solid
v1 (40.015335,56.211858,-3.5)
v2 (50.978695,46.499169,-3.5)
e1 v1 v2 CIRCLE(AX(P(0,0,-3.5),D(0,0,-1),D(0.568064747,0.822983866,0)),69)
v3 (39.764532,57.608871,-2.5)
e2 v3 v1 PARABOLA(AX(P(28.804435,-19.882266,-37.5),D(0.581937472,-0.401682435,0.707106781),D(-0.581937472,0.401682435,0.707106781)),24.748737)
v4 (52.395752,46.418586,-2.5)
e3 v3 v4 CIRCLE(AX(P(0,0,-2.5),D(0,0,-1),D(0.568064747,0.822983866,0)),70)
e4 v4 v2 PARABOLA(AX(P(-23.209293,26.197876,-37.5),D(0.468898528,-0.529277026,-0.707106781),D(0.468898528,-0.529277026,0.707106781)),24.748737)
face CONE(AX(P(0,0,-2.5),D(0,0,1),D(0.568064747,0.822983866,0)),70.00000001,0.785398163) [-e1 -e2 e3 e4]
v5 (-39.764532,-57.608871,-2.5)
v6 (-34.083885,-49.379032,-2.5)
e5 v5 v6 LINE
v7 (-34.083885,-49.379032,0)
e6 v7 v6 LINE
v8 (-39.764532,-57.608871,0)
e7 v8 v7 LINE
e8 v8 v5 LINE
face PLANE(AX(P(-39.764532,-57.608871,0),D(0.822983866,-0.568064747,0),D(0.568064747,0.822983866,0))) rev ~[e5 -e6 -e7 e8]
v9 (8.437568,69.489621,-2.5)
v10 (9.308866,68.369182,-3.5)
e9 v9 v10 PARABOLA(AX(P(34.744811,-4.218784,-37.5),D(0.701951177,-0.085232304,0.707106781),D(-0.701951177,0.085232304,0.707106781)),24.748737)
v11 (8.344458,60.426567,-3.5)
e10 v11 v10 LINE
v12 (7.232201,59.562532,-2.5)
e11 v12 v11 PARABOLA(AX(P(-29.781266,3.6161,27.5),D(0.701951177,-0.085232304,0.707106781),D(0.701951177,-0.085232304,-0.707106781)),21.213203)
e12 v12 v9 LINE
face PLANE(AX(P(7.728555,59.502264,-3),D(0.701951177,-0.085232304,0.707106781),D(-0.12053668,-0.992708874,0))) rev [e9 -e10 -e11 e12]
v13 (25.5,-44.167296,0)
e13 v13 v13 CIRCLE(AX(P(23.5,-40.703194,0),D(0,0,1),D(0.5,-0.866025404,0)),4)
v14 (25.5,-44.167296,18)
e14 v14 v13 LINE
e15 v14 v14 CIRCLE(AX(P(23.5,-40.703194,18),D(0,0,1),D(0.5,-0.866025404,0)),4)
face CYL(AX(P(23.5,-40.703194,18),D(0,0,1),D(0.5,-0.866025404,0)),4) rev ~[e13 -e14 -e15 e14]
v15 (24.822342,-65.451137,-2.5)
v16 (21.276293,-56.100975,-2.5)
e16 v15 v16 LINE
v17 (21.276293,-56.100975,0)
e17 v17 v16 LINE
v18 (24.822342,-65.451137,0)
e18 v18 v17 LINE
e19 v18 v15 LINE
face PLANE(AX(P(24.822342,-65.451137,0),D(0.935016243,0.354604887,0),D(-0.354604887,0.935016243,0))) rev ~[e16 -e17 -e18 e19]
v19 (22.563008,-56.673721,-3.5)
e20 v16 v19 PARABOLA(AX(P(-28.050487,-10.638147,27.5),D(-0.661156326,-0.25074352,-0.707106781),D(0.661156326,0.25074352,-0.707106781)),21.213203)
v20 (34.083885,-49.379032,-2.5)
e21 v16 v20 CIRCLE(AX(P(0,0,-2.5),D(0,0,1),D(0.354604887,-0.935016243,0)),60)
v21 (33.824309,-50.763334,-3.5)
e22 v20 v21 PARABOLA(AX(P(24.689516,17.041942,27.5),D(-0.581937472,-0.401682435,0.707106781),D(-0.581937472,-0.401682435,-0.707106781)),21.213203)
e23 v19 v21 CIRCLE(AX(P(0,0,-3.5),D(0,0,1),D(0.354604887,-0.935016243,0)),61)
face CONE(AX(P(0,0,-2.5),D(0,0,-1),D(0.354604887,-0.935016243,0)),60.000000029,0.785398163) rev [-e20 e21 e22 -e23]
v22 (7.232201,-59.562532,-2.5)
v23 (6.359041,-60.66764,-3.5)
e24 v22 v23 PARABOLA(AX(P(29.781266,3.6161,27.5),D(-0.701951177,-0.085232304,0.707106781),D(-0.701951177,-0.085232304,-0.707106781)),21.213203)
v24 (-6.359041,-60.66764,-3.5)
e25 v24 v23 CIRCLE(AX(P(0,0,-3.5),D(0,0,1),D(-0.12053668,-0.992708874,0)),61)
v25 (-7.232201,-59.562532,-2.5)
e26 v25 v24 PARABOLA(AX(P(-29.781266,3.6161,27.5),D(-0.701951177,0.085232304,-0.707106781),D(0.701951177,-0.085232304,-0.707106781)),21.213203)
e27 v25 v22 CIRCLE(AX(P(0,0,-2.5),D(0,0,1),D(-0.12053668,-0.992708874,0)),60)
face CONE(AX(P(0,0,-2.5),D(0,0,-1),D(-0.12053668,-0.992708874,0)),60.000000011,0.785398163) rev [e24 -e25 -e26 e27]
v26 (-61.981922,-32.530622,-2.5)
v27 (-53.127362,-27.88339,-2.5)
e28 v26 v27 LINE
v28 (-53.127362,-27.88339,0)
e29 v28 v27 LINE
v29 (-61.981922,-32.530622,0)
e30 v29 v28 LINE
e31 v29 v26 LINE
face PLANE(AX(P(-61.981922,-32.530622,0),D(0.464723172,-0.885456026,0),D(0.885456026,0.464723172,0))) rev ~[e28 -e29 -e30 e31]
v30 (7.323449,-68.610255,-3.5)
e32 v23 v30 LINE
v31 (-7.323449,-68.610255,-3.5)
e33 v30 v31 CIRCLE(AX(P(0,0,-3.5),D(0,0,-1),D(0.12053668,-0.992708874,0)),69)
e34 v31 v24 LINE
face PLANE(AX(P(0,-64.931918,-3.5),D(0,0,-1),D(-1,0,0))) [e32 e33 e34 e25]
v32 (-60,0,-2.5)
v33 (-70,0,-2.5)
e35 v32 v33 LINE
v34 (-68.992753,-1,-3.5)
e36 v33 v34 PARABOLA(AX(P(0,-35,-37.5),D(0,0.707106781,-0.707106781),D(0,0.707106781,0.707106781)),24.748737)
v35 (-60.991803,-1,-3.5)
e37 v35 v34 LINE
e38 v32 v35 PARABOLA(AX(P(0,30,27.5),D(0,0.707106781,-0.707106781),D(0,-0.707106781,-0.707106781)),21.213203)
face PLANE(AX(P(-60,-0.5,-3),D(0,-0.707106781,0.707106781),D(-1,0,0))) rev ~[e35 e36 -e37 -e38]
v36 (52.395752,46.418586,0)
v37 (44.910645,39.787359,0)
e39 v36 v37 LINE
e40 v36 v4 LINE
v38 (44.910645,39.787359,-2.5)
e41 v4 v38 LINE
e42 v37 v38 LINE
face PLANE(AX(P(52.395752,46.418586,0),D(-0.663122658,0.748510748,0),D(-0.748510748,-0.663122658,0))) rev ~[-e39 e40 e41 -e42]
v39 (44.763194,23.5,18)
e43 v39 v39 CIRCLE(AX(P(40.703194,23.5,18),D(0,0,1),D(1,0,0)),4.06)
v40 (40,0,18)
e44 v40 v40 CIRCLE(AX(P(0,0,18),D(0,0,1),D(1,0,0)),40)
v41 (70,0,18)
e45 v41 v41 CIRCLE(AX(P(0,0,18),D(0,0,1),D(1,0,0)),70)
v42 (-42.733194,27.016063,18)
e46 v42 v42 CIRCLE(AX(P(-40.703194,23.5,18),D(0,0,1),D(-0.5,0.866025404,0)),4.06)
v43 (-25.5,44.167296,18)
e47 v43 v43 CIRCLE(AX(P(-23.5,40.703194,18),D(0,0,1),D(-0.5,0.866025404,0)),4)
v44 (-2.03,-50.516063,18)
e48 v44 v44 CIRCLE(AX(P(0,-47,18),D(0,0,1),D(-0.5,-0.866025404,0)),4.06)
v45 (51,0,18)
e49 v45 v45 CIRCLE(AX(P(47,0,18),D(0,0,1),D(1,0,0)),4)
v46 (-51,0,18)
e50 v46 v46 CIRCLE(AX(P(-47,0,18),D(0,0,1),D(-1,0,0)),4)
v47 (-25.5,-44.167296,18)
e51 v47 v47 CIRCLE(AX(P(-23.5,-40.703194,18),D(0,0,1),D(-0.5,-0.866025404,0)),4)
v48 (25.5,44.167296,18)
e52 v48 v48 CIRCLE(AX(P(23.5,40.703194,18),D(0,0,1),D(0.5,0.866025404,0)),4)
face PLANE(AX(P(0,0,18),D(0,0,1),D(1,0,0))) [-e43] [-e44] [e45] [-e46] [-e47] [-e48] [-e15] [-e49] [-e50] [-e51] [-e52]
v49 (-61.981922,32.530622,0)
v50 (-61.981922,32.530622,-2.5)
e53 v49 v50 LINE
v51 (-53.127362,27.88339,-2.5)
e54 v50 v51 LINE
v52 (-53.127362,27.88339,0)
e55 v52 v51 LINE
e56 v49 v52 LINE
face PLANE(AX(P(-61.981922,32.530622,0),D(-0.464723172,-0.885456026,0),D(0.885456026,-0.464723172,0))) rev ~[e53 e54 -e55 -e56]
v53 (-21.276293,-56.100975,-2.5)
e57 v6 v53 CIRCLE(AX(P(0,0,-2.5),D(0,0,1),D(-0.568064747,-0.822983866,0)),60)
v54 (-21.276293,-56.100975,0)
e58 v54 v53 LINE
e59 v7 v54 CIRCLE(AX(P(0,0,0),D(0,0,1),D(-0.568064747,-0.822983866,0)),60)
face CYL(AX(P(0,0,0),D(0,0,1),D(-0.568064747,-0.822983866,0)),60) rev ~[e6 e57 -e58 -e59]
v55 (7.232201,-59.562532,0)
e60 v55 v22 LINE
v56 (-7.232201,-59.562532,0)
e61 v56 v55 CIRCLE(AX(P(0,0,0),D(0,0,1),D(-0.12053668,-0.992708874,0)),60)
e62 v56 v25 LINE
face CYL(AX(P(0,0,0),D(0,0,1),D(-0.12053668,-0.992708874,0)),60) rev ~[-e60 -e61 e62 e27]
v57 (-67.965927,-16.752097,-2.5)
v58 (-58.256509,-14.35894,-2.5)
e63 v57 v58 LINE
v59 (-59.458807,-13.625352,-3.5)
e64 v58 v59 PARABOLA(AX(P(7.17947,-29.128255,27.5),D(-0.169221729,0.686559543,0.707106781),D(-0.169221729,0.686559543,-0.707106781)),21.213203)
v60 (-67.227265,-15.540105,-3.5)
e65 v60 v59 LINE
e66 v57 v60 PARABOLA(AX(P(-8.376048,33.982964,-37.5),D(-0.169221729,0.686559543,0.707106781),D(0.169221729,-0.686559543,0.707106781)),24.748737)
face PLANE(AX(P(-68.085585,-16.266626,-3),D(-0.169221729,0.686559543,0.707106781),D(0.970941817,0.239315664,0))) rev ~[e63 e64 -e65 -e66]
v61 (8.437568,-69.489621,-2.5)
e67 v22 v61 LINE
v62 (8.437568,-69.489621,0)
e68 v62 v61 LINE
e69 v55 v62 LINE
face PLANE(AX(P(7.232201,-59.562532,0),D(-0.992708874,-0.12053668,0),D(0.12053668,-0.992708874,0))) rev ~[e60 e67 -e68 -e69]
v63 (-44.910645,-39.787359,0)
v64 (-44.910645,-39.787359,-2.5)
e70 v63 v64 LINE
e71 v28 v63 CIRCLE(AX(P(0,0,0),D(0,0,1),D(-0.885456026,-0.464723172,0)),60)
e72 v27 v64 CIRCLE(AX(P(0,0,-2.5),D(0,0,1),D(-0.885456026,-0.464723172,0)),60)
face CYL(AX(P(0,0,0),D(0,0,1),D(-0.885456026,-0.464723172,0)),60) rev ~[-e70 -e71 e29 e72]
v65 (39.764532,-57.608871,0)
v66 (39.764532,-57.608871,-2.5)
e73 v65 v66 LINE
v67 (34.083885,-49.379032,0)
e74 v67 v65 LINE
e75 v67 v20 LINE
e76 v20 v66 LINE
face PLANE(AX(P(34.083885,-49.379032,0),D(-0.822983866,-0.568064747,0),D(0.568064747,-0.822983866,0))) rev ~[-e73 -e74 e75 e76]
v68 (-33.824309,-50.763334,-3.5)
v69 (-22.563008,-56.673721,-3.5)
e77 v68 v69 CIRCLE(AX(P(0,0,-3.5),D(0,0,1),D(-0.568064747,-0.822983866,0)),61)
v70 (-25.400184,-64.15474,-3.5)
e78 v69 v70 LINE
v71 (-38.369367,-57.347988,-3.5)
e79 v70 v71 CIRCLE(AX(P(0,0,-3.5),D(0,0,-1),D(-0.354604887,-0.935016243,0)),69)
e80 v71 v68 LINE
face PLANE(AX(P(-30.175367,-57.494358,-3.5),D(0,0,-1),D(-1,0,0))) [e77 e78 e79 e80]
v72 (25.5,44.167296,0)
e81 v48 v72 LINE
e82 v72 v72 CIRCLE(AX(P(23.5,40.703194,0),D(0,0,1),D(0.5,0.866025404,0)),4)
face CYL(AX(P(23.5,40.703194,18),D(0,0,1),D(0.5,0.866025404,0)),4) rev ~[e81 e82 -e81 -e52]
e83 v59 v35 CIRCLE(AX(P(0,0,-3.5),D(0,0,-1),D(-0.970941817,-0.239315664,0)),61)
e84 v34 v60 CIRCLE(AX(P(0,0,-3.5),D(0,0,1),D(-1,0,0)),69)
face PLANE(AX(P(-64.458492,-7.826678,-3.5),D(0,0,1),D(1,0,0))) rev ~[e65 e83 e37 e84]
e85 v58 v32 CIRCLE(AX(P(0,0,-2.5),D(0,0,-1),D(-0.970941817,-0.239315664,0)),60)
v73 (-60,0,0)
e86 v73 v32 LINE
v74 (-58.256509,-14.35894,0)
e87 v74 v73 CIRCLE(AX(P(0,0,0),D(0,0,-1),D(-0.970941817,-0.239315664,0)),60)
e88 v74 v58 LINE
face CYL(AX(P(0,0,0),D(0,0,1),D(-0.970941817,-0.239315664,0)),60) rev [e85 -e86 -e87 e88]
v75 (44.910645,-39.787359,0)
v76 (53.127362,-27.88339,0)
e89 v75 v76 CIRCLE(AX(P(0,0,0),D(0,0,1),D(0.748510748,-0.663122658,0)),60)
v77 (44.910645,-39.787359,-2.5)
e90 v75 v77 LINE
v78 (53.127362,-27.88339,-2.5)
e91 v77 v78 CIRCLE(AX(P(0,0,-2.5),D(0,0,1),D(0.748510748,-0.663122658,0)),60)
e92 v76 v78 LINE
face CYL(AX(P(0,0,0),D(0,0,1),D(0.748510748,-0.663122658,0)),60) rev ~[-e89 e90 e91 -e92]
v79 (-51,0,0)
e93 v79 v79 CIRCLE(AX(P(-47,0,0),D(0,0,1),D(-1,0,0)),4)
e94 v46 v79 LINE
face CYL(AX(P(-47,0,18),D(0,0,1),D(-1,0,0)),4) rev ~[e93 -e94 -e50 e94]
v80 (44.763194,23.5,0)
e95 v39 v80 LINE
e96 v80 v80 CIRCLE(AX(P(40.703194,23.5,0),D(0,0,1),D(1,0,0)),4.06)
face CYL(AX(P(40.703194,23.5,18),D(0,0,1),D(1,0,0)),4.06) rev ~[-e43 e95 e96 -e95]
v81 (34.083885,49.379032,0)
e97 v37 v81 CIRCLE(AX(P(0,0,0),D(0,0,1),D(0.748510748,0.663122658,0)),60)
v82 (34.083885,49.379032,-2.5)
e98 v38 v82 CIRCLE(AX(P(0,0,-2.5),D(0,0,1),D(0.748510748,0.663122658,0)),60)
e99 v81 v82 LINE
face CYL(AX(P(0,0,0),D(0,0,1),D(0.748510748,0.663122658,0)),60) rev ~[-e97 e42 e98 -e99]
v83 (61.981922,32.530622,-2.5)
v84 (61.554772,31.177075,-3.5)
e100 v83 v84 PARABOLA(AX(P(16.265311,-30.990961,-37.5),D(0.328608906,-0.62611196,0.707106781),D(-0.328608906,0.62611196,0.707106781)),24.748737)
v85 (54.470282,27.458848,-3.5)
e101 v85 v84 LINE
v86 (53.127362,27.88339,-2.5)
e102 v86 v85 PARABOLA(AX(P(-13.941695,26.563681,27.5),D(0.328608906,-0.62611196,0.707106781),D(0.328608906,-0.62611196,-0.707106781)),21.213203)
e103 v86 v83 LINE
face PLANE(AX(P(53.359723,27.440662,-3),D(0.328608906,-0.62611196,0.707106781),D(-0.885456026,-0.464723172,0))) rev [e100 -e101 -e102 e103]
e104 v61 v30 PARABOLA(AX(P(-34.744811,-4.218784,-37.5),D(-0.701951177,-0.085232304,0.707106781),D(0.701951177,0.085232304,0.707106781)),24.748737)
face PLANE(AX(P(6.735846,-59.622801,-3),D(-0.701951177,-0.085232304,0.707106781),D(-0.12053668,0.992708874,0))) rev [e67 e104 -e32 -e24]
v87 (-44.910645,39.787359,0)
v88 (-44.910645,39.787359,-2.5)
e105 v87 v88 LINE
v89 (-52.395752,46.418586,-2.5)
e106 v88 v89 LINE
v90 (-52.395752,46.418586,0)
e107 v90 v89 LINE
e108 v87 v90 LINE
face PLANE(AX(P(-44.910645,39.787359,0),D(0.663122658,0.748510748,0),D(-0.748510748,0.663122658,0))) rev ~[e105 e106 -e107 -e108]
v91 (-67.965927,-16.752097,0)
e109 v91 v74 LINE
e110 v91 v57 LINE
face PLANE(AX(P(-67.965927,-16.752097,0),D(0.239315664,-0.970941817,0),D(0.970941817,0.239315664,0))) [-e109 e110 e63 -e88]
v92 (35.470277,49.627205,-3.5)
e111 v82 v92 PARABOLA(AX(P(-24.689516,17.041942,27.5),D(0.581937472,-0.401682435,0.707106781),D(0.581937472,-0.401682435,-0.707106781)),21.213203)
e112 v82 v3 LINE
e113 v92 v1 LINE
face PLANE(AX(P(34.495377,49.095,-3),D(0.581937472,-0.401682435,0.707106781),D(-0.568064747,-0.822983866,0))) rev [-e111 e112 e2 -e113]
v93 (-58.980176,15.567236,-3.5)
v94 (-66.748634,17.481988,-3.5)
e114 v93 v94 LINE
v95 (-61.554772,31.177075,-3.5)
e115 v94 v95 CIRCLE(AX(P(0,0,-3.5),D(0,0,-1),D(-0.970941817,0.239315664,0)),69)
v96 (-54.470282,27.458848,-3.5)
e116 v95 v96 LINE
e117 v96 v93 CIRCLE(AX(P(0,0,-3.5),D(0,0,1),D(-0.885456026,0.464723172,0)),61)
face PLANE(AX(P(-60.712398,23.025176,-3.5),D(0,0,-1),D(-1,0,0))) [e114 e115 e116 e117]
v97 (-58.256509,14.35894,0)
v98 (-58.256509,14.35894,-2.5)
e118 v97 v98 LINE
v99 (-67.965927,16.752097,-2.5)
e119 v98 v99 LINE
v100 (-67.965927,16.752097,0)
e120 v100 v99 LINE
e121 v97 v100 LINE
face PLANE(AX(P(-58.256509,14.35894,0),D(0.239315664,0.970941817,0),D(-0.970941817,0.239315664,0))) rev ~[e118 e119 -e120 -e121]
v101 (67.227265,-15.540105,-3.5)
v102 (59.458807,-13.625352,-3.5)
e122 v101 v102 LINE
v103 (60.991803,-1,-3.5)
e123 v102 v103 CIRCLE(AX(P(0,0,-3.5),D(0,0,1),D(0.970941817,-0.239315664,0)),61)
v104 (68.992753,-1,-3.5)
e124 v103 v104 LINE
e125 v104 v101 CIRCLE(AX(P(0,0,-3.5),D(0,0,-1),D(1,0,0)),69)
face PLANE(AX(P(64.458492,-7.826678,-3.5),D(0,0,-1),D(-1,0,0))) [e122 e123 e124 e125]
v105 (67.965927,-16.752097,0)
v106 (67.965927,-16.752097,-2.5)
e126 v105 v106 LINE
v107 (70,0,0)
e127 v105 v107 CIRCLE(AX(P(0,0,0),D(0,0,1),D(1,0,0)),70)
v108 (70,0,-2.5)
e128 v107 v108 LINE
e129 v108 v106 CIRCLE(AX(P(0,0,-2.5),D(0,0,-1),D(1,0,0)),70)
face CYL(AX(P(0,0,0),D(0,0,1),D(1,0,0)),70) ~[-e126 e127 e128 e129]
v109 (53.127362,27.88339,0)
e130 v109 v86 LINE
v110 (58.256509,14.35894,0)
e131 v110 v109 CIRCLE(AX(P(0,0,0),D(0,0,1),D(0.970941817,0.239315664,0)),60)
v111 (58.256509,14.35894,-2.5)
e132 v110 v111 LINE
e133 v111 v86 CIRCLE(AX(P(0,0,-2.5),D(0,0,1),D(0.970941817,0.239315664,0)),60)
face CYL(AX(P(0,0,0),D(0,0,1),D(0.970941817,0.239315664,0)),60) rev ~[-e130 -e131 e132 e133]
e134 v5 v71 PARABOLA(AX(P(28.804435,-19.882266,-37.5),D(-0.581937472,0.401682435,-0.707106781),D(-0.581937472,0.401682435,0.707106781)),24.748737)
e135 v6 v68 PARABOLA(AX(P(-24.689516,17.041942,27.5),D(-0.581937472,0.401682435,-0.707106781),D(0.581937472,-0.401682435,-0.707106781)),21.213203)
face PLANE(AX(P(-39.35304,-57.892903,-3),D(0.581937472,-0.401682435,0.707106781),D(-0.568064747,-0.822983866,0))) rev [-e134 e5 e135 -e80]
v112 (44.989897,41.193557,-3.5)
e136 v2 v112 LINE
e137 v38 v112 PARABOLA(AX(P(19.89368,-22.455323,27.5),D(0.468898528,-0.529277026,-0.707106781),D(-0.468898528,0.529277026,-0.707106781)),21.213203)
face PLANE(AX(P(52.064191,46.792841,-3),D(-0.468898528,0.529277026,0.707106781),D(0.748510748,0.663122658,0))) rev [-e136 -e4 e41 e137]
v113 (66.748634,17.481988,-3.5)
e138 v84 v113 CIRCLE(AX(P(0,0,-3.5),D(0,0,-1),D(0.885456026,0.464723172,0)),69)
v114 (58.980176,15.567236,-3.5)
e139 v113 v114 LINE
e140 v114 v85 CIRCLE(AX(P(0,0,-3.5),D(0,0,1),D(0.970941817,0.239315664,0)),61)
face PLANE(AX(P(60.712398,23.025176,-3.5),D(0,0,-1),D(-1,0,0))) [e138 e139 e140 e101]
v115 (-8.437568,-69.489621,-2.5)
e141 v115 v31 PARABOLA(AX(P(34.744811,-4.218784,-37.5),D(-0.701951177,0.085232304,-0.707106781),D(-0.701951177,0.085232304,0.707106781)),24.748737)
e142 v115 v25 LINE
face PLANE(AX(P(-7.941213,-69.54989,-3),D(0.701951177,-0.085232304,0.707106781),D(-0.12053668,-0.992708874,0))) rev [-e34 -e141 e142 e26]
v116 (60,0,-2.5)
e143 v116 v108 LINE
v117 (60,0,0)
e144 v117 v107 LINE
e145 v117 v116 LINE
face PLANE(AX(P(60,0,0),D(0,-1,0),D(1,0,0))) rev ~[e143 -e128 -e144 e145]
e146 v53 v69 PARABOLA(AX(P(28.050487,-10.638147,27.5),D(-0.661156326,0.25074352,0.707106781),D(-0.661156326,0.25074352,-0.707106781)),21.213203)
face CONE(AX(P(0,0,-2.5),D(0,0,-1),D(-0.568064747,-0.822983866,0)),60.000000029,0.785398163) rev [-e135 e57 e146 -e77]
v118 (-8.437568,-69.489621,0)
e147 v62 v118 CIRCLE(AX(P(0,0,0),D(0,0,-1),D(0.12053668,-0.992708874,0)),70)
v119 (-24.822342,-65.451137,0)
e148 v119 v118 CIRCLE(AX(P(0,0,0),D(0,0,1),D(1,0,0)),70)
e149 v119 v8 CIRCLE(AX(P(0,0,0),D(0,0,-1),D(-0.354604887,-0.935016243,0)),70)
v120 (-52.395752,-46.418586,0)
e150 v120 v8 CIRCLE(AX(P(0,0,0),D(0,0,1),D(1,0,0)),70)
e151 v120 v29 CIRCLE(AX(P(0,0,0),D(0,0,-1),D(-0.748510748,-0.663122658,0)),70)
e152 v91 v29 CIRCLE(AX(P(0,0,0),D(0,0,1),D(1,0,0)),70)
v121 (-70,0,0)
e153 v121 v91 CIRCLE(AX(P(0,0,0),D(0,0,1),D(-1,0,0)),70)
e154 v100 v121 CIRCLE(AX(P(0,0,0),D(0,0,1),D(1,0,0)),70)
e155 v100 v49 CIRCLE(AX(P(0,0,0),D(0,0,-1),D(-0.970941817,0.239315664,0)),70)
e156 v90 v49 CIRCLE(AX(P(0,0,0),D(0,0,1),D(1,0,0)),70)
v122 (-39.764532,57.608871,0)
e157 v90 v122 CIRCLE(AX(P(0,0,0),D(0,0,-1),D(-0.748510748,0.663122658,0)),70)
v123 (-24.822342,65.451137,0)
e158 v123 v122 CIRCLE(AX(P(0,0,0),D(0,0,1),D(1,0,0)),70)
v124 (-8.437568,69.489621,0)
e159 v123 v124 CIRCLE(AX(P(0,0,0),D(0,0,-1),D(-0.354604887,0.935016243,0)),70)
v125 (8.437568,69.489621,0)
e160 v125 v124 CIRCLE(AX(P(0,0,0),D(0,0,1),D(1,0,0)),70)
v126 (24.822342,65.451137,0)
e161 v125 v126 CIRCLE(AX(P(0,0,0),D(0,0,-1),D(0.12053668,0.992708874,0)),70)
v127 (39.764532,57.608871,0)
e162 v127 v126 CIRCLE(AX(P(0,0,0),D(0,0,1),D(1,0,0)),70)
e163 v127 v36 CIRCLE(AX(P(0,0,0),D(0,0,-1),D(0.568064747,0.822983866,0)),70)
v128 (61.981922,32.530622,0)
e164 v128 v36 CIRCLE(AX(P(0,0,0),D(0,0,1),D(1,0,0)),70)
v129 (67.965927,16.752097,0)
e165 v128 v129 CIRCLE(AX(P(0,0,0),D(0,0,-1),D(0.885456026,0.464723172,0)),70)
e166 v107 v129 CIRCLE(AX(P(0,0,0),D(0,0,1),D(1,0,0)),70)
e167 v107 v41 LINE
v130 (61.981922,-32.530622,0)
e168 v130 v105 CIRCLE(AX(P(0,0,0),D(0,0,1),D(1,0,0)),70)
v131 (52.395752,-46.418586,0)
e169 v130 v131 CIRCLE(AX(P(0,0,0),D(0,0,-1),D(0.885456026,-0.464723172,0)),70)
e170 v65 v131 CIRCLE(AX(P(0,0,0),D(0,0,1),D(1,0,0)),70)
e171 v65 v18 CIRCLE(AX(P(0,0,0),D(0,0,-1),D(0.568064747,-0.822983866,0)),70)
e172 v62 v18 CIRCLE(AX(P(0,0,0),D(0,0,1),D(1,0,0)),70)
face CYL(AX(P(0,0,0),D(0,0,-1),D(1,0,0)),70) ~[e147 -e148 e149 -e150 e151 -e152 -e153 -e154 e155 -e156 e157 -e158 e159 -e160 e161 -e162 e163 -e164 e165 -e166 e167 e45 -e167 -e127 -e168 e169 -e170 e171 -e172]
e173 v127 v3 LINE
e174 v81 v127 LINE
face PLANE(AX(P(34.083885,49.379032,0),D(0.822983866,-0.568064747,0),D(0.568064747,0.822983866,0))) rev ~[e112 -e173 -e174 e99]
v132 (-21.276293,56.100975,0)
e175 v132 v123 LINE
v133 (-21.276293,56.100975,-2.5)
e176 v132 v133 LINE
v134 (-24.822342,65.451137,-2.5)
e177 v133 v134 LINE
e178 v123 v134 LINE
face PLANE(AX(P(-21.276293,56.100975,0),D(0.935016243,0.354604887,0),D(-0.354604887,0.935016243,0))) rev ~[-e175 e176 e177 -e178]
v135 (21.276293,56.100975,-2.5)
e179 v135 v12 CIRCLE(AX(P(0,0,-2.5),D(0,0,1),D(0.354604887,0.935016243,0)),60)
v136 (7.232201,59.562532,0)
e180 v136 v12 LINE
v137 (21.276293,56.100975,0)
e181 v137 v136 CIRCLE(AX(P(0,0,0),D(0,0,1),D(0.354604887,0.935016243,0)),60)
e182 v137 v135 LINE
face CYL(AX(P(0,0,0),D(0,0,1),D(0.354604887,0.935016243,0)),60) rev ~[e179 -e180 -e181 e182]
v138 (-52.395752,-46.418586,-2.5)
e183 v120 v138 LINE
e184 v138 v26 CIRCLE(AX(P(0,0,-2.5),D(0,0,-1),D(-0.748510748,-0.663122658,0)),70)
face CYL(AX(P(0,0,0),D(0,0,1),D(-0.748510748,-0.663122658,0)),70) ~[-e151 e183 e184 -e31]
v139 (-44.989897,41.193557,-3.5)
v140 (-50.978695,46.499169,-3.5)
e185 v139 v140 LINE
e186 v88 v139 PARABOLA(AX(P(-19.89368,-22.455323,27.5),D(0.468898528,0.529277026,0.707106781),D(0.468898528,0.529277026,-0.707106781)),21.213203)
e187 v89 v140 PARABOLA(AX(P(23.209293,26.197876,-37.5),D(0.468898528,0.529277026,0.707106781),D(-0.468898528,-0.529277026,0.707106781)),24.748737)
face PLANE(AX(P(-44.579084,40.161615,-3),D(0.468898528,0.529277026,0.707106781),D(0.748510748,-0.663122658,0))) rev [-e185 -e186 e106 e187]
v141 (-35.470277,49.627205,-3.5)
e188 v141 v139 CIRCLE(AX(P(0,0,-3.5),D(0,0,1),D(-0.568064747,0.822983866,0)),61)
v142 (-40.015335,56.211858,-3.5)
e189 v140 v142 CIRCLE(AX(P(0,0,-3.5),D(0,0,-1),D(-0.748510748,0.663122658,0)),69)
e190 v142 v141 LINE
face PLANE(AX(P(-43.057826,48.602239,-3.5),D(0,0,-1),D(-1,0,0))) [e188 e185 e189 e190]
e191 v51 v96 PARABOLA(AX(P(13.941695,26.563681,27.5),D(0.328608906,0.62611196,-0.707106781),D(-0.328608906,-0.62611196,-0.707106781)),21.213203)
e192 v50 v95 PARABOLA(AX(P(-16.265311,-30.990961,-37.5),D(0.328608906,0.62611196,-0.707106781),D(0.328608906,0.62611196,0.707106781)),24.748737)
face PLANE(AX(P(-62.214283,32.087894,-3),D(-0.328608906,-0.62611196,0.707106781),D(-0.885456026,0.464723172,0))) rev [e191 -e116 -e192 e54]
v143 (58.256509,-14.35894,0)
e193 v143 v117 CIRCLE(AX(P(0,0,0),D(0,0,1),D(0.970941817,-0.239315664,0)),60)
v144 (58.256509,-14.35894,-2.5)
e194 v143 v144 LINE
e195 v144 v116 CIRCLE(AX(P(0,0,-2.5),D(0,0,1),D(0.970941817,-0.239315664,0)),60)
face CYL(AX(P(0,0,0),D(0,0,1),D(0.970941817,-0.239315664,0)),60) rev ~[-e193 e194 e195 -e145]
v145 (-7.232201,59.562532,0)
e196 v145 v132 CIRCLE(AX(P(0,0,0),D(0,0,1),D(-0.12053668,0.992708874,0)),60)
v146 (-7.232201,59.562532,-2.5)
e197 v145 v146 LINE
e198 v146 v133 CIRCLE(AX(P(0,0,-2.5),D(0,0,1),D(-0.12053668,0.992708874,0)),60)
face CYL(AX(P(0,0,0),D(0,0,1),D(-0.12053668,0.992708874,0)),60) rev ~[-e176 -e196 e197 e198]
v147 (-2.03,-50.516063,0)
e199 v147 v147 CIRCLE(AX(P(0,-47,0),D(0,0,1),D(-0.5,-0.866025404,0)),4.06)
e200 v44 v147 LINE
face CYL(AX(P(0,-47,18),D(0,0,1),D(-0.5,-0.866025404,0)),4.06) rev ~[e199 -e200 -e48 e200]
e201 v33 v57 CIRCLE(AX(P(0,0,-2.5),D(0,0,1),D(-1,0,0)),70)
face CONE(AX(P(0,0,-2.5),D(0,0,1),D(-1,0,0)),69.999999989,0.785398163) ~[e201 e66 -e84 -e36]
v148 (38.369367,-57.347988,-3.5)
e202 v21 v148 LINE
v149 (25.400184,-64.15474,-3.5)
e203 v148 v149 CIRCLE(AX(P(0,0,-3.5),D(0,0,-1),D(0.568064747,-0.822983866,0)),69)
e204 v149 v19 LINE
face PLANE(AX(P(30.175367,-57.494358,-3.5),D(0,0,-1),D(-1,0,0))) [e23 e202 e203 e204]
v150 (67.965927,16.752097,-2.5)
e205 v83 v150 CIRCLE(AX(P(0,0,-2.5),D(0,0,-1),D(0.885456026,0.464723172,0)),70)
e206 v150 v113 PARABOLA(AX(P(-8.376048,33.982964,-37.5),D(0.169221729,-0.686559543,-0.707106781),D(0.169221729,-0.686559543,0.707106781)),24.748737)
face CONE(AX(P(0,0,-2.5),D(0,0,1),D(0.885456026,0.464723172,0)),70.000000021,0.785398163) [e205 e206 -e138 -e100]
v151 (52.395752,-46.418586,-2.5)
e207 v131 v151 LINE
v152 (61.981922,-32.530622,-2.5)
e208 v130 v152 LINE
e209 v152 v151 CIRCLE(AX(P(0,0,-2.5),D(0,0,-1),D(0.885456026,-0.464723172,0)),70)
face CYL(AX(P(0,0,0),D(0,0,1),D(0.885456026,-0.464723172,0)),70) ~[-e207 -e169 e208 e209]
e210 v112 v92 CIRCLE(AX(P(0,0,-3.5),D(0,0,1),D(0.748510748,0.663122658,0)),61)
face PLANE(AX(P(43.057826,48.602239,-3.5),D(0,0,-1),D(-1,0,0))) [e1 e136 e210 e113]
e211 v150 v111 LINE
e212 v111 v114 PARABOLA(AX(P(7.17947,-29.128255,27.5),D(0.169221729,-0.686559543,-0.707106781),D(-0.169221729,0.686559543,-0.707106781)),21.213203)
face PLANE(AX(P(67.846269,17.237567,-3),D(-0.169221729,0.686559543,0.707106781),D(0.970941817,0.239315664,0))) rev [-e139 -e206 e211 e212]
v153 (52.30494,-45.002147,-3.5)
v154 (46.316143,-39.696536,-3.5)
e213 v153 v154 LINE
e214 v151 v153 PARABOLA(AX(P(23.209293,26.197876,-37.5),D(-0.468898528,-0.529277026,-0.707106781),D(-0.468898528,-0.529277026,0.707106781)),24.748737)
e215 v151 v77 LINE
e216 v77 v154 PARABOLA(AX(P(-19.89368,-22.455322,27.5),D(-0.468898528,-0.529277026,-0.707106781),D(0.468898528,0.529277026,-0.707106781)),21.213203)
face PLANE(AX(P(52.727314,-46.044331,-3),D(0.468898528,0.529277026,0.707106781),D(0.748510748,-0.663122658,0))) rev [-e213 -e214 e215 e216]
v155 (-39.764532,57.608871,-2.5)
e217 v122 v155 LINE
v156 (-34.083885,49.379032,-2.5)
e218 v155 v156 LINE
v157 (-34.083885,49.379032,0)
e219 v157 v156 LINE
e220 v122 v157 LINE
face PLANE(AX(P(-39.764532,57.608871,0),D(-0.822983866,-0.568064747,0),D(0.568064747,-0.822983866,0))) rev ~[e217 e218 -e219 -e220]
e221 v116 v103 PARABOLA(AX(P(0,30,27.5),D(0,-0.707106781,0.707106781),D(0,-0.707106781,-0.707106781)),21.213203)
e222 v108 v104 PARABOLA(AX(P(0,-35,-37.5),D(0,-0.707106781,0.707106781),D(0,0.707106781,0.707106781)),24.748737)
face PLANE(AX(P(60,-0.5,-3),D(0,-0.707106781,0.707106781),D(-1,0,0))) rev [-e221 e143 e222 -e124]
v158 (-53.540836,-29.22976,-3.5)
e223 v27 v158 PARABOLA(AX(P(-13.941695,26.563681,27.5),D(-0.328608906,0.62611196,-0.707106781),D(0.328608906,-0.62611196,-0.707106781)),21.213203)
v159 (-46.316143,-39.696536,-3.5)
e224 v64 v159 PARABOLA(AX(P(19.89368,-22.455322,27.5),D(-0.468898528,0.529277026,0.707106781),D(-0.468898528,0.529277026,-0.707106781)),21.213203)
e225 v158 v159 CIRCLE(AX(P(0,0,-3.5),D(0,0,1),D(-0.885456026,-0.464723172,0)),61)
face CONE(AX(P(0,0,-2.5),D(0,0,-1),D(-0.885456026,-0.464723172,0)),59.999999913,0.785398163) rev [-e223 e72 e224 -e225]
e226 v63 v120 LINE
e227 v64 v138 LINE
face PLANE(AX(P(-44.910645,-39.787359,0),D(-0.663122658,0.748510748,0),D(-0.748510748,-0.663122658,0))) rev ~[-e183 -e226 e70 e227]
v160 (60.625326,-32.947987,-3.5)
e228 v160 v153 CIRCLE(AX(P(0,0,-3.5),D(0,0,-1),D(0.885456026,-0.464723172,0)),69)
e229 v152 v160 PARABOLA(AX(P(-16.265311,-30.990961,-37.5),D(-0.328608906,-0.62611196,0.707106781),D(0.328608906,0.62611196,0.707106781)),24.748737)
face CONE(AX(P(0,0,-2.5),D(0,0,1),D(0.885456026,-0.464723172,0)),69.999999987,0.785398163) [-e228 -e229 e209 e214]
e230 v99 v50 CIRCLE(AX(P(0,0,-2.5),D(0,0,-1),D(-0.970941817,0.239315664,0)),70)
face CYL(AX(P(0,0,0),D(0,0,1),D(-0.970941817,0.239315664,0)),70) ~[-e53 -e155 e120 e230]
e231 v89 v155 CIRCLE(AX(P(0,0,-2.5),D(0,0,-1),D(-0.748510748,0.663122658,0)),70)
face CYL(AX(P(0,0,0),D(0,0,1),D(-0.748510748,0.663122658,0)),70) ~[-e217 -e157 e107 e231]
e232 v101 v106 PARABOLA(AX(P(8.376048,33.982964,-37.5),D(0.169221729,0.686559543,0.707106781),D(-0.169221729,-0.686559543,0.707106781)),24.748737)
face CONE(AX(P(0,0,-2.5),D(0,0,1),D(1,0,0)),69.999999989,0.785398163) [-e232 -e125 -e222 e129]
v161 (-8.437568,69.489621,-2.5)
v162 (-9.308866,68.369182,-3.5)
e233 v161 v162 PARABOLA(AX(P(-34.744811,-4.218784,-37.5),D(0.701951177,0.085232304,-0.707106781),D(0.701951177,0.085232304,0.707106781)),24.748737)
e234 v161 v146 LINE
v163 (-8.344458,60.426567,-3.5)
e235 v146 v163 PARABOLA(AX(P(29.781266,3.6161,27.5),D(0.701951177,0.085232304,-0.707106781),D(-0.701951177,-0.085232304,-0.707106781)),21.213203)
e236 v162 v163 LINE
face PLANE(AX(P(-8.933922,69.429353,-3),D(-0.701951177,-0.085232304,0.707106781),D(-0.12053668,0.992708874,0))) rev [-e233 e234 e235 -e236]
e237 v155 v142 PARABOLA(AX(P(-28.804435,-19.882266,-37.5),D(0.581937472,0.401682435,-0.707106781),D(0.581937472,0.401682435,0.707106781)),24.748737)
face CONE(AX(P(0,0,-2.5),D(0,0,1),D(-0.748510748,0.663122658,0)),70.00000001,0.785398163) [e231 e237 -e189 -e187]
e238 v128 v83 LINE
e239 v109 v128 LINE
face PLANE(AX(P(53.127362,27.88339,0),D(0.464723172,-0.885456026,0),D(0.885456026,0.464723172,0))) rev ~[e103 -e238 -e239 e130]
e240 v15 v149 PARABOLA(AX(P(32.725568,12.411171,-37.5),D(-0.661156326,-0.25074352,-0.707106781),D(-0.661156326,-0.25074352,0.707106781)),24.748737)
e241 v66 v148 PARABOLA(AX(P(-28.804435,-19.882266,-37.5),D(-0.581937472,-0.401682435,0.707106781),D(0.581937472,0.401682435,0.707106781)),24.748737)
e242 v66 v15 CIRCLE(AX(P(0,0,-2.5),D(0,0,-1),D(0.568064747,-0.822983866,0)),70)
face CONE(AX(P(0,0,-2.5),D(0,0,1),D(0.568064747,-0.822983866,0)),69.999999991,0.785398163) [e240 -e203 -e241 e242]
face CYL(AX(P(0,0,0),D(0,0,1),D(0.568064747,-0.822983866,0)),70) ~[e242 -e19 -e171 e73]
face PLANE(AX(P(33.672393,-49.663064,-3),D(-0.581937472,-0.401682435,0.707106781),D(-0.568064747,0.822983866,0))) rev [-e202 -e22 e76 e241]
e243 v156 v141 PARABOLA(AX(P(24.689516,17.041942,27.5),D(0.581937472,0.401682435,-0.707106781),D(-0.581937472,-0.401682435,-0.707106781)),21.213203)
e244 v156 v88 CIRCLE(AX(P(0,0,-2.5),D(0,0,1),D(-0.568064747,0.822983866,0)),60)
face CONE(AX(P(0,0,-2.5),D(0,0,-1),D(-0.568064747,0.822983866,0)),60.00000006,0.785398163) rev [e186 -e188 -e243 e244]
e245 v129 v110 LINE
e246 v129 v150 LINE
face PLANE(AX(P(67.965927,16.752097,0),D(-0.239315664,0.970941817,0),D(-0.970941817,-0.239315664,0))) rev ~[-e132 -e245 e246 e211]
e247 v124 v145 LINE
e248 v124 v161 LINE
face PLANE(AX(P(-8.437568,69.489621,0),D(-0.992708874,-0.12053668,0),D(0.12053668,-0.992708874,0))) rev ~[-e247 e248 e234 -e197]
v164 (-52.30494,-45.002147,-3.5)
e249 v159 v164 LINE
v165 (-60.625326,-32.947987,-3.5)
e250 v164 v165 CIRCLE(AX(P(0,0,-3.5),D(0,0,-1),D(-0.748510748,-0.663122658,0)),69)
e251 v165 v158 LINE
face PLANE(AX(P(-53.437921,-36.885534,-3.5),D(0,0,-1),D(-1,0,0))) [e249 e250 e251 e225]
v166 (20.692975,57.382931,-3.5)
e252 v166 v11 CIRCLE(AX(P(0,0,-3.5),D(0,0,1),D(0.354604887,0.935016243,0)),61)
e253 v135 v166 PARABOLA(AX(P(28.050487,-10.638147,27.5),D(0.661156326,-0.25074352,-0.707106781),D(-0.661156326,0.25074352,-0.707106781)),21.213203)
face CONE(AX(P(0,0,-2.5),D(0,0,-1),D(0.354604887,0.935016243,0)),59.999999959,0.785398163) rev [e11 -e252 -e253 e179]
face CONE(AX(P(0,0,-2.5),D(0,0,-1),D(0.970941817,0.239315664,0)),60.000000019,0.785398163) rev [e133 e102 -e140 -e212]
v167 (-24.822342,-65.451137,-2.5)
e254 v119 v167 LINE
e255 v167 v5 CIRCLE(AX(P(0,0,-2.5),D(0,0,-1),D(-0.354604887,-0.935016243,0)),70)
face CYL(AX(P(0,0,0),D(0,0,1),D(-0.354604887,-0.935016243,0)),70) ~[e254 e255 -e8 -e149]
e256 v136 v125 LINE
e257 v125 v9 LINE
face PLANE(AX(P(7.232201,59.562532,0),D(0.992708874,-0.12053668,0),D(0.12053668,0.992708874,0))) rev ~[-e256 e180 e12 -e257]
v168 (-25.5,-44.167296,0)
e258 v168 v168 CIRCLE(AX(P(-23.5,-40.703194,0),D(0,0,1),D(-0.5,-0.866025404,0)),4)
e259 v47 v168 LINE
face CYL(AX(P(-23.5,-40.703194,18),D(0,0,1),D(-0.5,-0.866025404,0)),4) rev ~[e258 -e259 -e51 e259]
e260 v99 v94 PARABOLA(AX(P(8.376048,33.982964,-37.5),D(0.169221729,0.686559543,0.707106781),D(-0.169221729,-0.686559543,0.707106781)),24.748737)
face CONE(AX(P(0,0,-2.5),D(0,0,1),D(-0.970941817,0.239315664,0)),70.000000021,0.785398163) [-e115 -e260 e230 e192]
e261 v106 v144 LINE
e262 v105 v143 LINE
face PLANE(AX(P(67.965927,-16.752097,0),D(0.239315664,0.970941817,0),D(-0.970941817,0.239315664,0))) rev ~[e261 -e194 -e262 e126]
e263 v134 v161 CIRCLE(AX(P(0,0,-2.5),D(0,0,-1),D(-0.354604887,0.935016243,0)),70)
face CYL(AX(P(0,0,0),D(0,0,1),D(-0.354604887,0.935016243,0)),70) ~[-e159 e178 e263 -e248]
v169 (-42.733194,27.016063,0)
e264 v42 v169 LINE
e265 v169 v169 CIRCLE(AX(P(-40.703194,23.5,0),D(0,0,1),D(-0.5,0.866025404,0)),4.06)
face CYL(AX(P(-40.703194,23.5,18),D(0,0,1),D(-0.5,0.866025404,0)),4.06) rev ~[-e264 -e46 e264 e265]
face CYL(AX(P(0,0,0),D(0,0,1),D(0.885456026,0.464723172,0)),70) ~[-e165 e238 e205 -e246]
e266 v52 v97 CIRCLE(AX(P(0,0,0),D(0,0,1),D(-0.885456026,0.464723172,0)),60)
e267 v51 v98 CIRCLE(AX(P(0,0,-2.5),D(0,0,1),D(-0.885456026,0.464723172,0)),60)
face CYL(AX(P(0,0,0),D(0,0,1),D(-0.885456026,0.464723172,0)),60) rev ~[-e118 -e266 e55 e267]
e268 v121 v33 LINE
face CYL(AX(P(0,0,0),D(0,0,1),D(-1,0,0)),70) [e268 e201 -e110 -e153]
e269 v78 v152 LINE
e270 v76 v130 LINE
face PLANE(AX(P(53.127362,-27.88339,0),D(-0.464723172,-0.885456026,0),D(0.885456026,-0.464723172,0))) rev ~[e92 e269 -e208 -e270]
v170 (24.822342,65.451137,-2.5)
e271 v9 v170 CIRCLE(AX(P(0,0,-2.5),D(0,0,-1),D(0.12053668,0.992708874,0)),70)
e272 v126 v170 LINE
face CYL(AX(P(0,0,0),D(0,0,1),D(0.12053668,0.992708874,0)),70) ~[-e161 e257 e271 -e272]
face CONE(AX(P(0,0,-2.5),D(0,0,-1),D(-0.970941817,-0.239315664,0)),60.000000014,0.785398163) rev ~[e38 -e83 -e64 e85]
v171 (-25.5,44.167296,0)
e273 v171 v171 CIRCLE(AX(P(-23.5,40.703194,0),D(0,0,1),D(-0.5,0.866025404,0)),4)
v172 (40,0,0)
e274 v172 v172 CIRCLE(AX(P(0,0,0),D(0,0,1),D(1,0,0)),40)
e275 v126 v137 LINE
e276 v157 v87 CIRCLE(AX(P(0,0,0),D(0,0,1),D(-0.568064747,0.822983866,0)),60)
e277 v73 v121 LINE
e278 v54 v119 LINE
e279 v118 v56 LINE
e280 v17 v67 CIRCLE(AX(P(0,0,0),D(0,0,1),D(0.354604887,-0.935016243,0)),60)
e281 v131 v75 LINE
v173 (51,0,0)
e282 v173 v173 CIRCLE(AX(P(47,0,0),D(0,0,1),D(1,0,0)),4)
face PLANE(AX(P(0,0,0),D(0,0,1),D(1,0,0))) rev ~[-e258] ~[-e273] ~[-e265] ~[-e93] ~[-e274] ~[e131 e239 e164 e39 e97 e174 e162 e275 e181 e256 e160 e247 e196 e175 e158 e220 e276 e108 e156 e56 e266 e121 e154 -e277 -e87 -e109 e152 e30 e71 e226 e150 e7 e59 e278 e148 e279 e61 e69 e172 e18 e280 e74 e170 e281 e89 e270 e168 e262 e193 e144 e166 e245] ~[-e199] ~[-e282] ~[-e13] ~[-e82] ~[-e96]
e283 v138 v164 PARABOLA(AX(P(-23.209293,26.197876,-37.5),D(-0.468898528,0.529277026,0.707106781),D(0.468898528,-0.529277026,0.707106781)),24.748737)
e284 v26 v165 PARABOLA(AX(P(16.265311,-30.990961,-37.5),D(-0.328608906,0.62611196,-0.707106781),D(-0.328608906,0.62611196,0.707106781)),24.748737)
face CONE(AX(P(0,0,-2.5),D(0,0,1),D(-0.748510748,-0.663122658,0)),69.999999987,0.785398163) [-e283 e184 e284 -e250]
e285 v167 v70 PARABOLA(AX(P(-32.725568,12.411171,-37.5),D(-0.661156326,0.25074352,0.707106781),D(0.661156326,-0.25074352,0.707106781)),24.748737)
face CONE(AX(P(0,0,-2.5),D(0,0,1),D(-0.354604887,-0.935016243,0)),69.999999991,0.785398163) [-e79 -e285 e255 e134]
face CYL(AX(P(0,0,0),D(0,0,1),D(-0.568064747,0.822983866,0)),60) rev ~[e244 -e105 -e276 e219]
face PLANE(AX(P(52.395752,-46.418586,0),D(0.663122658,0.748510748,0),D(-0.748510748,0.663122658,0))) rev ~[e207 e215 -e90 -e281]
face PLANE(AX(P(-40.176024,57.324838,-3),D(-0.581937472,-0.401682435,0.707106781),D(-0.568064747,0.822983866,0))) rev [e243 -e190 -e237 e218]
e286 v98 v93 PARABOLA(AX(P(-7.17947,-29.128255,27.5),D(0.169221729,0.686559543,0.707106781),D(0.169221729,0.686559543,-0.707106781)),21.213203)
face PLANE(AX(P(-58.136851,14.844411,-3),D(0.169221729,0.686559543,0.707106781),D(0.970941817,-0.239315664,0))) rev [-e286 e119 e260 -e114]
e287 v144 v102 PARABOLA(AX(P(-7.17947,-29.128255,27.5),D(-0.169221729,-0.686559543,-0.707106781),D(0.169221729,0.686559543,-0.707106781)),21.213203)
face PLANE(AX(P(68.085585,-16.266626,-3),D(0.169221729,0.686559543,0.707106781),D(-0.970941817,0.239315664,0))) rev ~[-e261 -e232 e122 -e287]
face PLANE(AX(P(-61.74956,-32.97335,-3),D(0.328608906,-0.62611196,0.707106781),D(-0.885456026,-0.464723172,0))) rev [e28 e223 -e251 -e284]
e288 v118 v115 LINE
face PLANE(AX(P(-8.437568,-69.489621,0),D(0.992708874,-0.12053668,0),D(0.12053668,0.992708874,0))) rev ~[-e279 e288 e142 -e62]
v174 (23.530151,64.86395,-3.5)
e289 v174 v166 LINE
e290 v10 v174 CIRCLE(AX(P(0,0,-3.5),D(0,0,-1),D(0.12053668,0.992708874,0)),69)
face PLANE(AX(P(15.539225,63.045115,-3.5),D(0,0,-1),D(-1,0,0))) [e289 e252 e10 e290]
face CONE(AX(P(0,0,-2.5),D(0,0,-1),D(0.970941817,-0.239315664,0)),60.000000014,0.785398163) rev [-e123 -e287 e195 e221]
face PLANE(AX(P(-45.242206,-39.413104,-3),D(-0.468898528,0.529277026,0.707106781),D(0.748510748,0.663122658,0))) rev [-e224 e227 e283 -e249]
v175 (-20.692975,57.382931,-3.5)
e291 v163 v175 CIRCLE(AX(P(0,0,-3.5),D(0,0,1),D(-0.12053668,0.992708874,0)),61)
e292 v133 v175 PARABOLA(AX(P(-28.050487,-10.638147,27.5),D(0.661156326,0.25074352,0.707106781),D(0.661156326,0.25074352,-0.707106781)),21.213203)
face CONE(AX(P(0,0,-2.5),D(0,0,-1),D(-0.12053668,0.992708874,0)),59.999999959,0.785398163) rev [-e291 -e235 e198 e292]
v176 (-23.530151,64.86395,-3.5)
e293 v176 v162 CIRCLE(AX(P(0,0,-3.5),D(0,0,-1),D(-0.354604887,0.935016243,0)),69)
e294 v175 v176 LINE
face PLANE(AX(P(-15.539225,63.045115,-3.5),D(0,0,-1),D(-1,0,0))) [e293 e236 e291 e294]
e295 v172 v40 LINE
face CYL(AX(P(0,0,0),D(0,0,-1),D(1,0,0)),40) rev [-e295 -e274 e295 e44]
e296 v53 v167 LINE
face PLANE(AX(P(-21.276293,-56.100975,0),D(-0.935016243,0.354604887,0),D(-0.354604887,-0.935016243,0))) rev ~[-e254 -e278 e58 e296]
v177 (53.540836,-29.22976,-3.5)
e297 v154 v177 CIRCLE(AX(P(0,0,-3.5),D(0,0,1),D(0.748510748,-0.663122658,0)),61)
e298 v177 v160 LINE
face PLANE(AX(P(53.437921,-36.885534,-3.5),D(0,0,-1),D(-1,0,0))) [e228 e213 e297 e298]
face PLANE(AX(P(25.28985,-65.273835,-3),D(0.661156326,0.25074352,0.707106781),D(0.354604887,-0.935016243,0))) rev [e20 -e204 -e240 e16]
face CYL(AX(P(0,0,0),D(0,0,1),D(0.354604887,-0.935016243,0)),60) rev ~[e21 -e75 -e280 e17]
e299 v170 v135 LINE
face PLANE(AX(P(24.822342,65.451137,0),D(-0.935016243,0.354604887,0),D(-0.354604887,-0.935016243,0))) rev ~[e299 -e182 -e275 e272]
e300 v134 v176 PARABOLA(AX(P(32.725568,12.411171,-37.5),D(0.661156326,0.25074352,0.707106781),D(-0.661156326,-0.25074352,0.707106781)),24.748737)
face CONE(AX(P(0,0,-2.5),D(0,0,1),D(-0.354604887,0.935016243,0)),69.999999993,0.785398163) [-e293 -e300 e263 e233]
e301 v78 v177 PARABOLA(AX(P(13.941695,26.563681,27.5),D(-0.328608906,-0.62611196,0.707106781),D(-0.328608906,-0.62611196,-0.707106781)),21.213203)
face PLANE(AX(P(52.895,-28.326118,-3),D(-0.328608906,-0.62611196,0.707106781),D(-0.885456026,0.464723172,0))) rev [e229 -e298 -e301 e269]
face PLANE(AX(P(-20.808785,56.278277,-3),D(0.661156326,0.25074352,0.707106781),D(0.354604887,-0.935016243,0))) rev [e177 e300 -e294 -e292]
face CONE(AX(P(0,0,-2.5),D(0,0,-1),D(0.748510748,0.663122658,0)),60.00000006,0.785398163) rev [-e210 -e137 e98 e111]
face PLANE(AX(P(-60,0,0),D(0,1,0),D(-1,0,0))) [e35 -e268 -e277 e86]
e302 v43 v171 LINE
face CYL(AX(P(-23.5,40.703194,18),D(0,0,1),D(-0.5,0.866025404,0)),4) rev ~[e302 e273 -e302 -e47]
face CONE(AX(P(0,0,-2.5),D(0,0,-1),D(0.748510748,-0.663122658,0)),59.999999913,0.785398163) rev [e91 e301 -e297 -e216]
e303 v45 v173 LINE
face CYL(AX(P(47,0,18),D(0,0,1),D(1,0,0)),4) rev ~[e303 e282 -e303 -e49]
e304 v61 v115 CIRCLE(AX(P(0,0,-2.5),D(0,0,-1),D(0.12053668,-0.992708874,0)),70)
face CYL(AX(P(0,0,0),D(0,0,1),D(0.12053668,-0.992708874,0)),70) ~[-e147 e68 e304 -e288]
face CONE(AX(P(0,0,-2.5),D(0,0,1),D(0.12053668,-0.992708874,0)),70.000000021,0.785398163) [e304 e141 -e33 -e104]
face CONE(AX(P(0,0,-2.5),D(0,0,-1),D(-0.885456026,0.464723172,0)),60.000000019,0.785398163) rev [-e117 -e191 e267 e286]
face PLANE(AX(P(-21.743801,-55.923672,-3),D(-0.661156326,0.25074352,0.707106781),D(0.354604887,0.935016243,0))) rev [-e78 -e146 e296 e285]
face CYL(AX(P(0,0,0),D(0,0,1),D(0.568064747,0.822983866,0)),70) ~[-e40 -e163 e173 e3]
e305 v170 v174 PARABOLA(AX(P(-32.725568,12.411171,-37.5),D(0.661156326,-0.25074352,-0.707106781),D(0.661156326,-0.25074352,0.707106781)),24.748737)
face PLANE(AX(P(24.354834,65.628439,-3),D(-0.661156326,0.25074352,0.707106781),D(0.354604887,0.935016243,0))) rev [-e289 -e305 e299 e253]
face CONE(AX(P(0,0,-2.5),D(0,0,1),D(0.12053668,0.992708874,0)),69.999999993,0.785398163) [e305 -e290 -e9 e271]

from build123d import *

# Parameters (mm, degrees)
SKETCH_1_R               = 70
SKETCH_1_R_2             = 40
EXTRUDE_1_DEPTH          = 18
SKETCH_2_R               = 4
CUT_EXTRUDE_1_DEPTH      = 20
PATTERN_CIRCULAR_1_COUNT = 6
SKETCH_3_R               = 4.06
CUT_EXTRUDE_2_DEPTH      = 20
PATTERN_CIRCULAR_2_COUNT = 3
EXTRUDE_2_DEPTH          = 3.5
CHAMFER_1_SIZE           = 1


with BuildPart() as part:
    # 草图1 → 凸台-拉伸1 (new body)
    with BuildSketch(Plane.XY):
        Circle(SKETCH_1_R)
        Circle(SKETCH_1_R_2, mode=Mode.SUBTRACT)
    extrude(amount=EXTRUDE_1_DEPTH)

    # 草图2 → 切除-拉伸1 (cut)
    with BuildSketch(Plane.XY.offset(18)):
        with Locations((47, 0)):
            Circle(SKETCH_2_R)
    cut_extrude_1 = extrude(amount=-CUT_EXTRUDE_1_DEPTH, mode=Mode.SUBTRACT)

    # 阵列(圆周)1: 切除-拉伸1 ×6 about axis
    pattern_circular_1_axis = Axis((0, 0, 0), (0, 0, 1))
    for i in range(1, PATTERN_CIRCULAR_1_COUNT):
        add(cut_extrude_1.rotate(pattern_circular_1_axis, i * 360 / PATTERN_CIRCULAR_1_COUNT), mode=Mode.SUBTRACT)

    # 草图3 → 切除-拉伸2 (cut)
    with BuildSketch(Plane.XY.offset(18)):
        with Locations((40.703193978, 23.5)):
            Circle(SKETCH_3_R)
    cut_extrude_2 = extrude(amount=-CUT_EXTRUDE_2_DEPTH, mode=Mode.SUBTRACT)

    # 阵列(圆周)2: 切除-拉伸2 ×3 about axis
    pattern_circular_2_axis = Axis((0, 0, 0), (0, 0, 1))
    for i in range(1, PATTERN_CIRCULAR_2_COUNT):
        add(cut_extrude_2.rotate(pattern_circular_2_axis, i * 360 / PATTERN_CIRCULAR_2_COUNT), mode=Mode.SUBTRACT)

    # 草图4 → 凸台-拉伸2 (add)
    with BuildSketch(Plane(origin=(0, 0, 0), x_dir=(-1, 0, 0), z_dir=(0, 0, -1))):
        with BuildLine():
            Line((60, 0), (70, 0))
            ThreePointArc((70, 0), (69.489621187, -8.437567618), (67.96592722, -16.7520965))
            Line((67.96592722, -16.7520965), (58.256509046, -14.358939857))
            ThreePointArc((58.256509046, -14.358939857), (59.562532446, -7.232200815), (60, 0))
        make_face()
        with BuildLine():
            Line((58.256509046, 14.358939857), (67.96592722, 16.7520965))
            ThreePointArc((67.96592722, 16.7520965), (65.451136988, 24.822342093), (61.981921796, 32.530622043))
            Line((61.981921796, 32.530622043), (53.127361539, 27.883390323))
            ThreePointArc((53.127361539, 27.883390323), (56.100974561, 21.276293223), (58.256509046, 14.358939857))
        make_face()
        with BuildLine():
            Line((44.91064489, 39.787359494), (52.395752372, 46.418586077))
            ThreePointArc((52.395752372, 46.418586077), (46.418586077, 52.395752372), (39.764532271, 57.608870613))
            Line((39.764532271, 57.608870613), (34.083884804, 49.379031954))
            ThreePointArc((34.083884804, 49.379031954), (39.787359494, 44.91064489), (44.91064489, 39.787359494))
        make_face()
        with BuildLine():
            Line((21.276293223, 56.100974561), (24.822342093, 65.451136988))
            ThreePointArc((24.822342093, 65.451136988), (16.7520965, 67.96592722), (8.437567618, 69.489621187))
            Line((8.437567618, 69.489621187), (7.232200815, 59.562532446))
            ThreePointArc((7.232200815, 59.562532446), (14.358939857, 58.256509046), (21.276293223, 56.100974561))
        make_face()
        with BuildLine():
            Line((-7.232200815, 59.562532446), (-8.437567618, 69.489621187))
            ThreePointArc((-8.437567618, 69.489621187), (-16.7520965, 67.96592722), (-24.822342093, 65.451136988))
            Line((-24.822342093, 65.451136988), (-21.276293223, 56.100974561))
            ThreePointArc((-21.276293223, 56.100974561), (-14.358939857, 58.256509046), (-7.232200815, 59.562532446))
        make_face()
        with BuildLine():
            Line((-34.083884804, 49.379031954), (-39.764532271, 57.608870613))
            ThreePointArc((-39.764532271, 57.608870613), (-46.418586077, 52.395752372), (-52.395752372, 46.418586077))
            Line((-52.395752372, 46.418586077), (-44.91064489, 39.787359494))
            ThreePointArc((-44.91064489, 39.787359494), (-39.787359494, 44.91064489), (-34.083884804, 49.379031954))
        make_face()
        with BuildLine():
            Line((-53.127361539, 27.883390323), (-61.981921796, 32.530622043))
            ThreePointArc((-61.981921796, 32.530622043), (-65.451136988, 24.822342093), (-67.96592722, 16.7520965))
            Line((-67.96592722, 16.7520965), (-58.256509046, 14.358939857))
            ThreePointArc((-58.256509046, 14.358939857), (-56.100974561, 21.276293223), (-53.127361539, 27.883390323))
        make_face()
        with BuildLine():
            Line((-60, 0), (-70, 0))
            ThreePointArc((-70, 0), (-69.489621187, -8.437567618), (-67.96592722, -16.7520965))
            Line((-67.96592722, -16.7520965), (-58.256509046, -14.358939857))
            ThreePointArc((-58.256509046, -14.358939857), (-59.562532446, -7.232200815), (-60, 0))
        make_face()
        with BuildLine():
            Line((-53.127361539, -27.883390323), (-61.981921796, -32.530622043))
            ThreePointArc((-61.981921796, -32.530622043), (-57.608870613, -39.764532271), (-52.395752372, -46.418586077))
            Line((-52.395752372, -46.418586077), (-44.91064489, -39.787359494))
            ThreePointArc((-44.91064489, -39.787359494), (-49.379031954, -34.083884804), (-53.127361539, -27.883390323))
        make_face()
        with BuildLine():
            Line((-34.083884804, -49.379031954), (-39.764532271, -57.608870613))
            ThreePointArc((-39.764532271, -57.608870613), (-32.530622043, -61.981921796), (-24.822342093, -65.451136988))
            Line((-24.822342093, -65.451136988), (-21.276293223, -56.100974561))
            ThreePointArc((-21.276293223, -56.100974561), (-27.883390323, -53.127361539), (-34.083884804, -49.379031954))
        make_face()
        with BuildLine():
            Line((-7.232200815, -59.562532446), (-8.437567618, -69.489621187))
            ThreePointArc((-8.437567618, -69.489621187), (0, -70), (8.437567618, -69.489621187))
            Line((8.437567618, -69.489621187), (7.232200815, -59.562532446))
            ThreePointArc((7.232200815, -59.562532446), (0, -60), (-7.232200815, -59.562532446))
        make_face()
        with BuildLine():
            Line((21.276293223, -56.100974561), (24.822342093, -65.451136988))
            ThreePointArc((24.822342093, -65.451136988), (32.530622043, -61.981921796), (39.764532271, -57.608870613))
            Line((39.764532271, -57.608870613), (34.083884804, -49.379031954))
            ThreePointArc((34.083884804, -49.379031954), (27.883390323, -53.127361539), (21.276293223, -56.100974561))
        make_face()
        with BuildLine():
            Line((44.91064489, -39.787359494), (52.395752372, -46.418586077))
            ThreePointArc((52.395752372, -46.418586077), (57.608870613, -39.764532271), (61.981921796, -32.530622043))
            Line((61.981921796, -32.530622043), (53.127361539, -27.883390323))
            ThreePointArc((53.127361539, -27.883390323), (49.379031954, -34.083884804), (44.91064489, -39.787359494))
        make_face()
    extrude(amount=EXTRUDE_2_DEPTH)

    # 倒角1
    chamfer_1_edges = [part.edges().sort_by_distance(p)[0] for p in [
        (-23.049317658, -60.776055775, -3.5),
        (-27.883390323, -53.127361539, -3.5),
        (-36.924208538, -53.493951283, -3.5),
        (-32.530622043, -61.981921796, -3.5),
        (7.834884217, -64.526076816, -3.5),
        (0, -60, -3.5),
        (-7.834884217, -64.526076816, -3.5),
        (0, -70, -3.5),
        (36.924208538, -53.493951283, -3.5),
        (27.883390323, -53.127361539, -3.5),
        (23.049317658, -60.776055775, -3.5),
        (32.530622043, -61.981921796, -3.5),
        (57.554641667, -30.207006183, -3.5),
        (49.379031954, -34.083884804, -3.5),
        (48.653198631, -43.102972786, -3.5),
        (57.608870613, -39.764532271, -3.5),
        (65, 0, -3.5),
        (59.562532446, -7.232200815, -3.5),
        (63.111218133, -15.555518179, -3.5),
        (69.489621187, -8.437567618, -3.5),
        (57.554641667, 30.207006183, -3.5),
        (56.100974561, 21.276293223, -3.5),
        (63.111218133, 15.555518179, -3.5),
        (65.451136988, 24.822342093, -3.5),
        (36.924208538, 53.493951283, -3.5),
        (39.787359494, 44.91064489, -3.5),
        (48.653198631, 43.102972786, -3.5),
        (46.418586077, 52.395752372, -3.5),
        (7.834884217, 64.526076816, -3.5),
        (14.358939857, 58.256509046, -3.5),
        (23.049317658, 60.776055775, -3.5),
        (16.7520965, 67.96592722, -3.5),
        (-23.049317658, 60.776055775, -3.5),
        (-14.358939857, 58.256509046, -3.5),
        (-7.834884217, 64.526076816, -3.5),
        (-16.7520965, 67.96592722, -3.5),
        (-48.653198631, 43.102972786, -3.5),
        (-39.787359494, 44.91064489, -3.5),
        (-36.924208538, 53.493951283, -3.5),
        (-46.418586077, 52.395752372, -3.5),
        (-63.111218133, 15.555518179, -3.5),
        (-56.100974561, 21.276293223, -3.5),
        (-57.554641667, 30.207006183, -3.5),
        (-65.451136988, 24.822342093, -3.5),
        (-63.111218133, -15.555518179, -3.5),
        (-59.562532446, -7.232200815, -3.5),
        (-65, 0, -3.5),
        (-69.489621187, -8.437567618, -3.5),
        (-48.653198631, -43.102972786, -3.5),
        (-49.379031954, -34.083884804, -3.5),
        (-57.554641667, -30.207006183, -3.5),
        (-57.608870613, -39.764532271, -3.5),
    ]]
    chamfer(chamfer_1_edges, length=CHAMFER_1_SIZE)


solid = part.part
